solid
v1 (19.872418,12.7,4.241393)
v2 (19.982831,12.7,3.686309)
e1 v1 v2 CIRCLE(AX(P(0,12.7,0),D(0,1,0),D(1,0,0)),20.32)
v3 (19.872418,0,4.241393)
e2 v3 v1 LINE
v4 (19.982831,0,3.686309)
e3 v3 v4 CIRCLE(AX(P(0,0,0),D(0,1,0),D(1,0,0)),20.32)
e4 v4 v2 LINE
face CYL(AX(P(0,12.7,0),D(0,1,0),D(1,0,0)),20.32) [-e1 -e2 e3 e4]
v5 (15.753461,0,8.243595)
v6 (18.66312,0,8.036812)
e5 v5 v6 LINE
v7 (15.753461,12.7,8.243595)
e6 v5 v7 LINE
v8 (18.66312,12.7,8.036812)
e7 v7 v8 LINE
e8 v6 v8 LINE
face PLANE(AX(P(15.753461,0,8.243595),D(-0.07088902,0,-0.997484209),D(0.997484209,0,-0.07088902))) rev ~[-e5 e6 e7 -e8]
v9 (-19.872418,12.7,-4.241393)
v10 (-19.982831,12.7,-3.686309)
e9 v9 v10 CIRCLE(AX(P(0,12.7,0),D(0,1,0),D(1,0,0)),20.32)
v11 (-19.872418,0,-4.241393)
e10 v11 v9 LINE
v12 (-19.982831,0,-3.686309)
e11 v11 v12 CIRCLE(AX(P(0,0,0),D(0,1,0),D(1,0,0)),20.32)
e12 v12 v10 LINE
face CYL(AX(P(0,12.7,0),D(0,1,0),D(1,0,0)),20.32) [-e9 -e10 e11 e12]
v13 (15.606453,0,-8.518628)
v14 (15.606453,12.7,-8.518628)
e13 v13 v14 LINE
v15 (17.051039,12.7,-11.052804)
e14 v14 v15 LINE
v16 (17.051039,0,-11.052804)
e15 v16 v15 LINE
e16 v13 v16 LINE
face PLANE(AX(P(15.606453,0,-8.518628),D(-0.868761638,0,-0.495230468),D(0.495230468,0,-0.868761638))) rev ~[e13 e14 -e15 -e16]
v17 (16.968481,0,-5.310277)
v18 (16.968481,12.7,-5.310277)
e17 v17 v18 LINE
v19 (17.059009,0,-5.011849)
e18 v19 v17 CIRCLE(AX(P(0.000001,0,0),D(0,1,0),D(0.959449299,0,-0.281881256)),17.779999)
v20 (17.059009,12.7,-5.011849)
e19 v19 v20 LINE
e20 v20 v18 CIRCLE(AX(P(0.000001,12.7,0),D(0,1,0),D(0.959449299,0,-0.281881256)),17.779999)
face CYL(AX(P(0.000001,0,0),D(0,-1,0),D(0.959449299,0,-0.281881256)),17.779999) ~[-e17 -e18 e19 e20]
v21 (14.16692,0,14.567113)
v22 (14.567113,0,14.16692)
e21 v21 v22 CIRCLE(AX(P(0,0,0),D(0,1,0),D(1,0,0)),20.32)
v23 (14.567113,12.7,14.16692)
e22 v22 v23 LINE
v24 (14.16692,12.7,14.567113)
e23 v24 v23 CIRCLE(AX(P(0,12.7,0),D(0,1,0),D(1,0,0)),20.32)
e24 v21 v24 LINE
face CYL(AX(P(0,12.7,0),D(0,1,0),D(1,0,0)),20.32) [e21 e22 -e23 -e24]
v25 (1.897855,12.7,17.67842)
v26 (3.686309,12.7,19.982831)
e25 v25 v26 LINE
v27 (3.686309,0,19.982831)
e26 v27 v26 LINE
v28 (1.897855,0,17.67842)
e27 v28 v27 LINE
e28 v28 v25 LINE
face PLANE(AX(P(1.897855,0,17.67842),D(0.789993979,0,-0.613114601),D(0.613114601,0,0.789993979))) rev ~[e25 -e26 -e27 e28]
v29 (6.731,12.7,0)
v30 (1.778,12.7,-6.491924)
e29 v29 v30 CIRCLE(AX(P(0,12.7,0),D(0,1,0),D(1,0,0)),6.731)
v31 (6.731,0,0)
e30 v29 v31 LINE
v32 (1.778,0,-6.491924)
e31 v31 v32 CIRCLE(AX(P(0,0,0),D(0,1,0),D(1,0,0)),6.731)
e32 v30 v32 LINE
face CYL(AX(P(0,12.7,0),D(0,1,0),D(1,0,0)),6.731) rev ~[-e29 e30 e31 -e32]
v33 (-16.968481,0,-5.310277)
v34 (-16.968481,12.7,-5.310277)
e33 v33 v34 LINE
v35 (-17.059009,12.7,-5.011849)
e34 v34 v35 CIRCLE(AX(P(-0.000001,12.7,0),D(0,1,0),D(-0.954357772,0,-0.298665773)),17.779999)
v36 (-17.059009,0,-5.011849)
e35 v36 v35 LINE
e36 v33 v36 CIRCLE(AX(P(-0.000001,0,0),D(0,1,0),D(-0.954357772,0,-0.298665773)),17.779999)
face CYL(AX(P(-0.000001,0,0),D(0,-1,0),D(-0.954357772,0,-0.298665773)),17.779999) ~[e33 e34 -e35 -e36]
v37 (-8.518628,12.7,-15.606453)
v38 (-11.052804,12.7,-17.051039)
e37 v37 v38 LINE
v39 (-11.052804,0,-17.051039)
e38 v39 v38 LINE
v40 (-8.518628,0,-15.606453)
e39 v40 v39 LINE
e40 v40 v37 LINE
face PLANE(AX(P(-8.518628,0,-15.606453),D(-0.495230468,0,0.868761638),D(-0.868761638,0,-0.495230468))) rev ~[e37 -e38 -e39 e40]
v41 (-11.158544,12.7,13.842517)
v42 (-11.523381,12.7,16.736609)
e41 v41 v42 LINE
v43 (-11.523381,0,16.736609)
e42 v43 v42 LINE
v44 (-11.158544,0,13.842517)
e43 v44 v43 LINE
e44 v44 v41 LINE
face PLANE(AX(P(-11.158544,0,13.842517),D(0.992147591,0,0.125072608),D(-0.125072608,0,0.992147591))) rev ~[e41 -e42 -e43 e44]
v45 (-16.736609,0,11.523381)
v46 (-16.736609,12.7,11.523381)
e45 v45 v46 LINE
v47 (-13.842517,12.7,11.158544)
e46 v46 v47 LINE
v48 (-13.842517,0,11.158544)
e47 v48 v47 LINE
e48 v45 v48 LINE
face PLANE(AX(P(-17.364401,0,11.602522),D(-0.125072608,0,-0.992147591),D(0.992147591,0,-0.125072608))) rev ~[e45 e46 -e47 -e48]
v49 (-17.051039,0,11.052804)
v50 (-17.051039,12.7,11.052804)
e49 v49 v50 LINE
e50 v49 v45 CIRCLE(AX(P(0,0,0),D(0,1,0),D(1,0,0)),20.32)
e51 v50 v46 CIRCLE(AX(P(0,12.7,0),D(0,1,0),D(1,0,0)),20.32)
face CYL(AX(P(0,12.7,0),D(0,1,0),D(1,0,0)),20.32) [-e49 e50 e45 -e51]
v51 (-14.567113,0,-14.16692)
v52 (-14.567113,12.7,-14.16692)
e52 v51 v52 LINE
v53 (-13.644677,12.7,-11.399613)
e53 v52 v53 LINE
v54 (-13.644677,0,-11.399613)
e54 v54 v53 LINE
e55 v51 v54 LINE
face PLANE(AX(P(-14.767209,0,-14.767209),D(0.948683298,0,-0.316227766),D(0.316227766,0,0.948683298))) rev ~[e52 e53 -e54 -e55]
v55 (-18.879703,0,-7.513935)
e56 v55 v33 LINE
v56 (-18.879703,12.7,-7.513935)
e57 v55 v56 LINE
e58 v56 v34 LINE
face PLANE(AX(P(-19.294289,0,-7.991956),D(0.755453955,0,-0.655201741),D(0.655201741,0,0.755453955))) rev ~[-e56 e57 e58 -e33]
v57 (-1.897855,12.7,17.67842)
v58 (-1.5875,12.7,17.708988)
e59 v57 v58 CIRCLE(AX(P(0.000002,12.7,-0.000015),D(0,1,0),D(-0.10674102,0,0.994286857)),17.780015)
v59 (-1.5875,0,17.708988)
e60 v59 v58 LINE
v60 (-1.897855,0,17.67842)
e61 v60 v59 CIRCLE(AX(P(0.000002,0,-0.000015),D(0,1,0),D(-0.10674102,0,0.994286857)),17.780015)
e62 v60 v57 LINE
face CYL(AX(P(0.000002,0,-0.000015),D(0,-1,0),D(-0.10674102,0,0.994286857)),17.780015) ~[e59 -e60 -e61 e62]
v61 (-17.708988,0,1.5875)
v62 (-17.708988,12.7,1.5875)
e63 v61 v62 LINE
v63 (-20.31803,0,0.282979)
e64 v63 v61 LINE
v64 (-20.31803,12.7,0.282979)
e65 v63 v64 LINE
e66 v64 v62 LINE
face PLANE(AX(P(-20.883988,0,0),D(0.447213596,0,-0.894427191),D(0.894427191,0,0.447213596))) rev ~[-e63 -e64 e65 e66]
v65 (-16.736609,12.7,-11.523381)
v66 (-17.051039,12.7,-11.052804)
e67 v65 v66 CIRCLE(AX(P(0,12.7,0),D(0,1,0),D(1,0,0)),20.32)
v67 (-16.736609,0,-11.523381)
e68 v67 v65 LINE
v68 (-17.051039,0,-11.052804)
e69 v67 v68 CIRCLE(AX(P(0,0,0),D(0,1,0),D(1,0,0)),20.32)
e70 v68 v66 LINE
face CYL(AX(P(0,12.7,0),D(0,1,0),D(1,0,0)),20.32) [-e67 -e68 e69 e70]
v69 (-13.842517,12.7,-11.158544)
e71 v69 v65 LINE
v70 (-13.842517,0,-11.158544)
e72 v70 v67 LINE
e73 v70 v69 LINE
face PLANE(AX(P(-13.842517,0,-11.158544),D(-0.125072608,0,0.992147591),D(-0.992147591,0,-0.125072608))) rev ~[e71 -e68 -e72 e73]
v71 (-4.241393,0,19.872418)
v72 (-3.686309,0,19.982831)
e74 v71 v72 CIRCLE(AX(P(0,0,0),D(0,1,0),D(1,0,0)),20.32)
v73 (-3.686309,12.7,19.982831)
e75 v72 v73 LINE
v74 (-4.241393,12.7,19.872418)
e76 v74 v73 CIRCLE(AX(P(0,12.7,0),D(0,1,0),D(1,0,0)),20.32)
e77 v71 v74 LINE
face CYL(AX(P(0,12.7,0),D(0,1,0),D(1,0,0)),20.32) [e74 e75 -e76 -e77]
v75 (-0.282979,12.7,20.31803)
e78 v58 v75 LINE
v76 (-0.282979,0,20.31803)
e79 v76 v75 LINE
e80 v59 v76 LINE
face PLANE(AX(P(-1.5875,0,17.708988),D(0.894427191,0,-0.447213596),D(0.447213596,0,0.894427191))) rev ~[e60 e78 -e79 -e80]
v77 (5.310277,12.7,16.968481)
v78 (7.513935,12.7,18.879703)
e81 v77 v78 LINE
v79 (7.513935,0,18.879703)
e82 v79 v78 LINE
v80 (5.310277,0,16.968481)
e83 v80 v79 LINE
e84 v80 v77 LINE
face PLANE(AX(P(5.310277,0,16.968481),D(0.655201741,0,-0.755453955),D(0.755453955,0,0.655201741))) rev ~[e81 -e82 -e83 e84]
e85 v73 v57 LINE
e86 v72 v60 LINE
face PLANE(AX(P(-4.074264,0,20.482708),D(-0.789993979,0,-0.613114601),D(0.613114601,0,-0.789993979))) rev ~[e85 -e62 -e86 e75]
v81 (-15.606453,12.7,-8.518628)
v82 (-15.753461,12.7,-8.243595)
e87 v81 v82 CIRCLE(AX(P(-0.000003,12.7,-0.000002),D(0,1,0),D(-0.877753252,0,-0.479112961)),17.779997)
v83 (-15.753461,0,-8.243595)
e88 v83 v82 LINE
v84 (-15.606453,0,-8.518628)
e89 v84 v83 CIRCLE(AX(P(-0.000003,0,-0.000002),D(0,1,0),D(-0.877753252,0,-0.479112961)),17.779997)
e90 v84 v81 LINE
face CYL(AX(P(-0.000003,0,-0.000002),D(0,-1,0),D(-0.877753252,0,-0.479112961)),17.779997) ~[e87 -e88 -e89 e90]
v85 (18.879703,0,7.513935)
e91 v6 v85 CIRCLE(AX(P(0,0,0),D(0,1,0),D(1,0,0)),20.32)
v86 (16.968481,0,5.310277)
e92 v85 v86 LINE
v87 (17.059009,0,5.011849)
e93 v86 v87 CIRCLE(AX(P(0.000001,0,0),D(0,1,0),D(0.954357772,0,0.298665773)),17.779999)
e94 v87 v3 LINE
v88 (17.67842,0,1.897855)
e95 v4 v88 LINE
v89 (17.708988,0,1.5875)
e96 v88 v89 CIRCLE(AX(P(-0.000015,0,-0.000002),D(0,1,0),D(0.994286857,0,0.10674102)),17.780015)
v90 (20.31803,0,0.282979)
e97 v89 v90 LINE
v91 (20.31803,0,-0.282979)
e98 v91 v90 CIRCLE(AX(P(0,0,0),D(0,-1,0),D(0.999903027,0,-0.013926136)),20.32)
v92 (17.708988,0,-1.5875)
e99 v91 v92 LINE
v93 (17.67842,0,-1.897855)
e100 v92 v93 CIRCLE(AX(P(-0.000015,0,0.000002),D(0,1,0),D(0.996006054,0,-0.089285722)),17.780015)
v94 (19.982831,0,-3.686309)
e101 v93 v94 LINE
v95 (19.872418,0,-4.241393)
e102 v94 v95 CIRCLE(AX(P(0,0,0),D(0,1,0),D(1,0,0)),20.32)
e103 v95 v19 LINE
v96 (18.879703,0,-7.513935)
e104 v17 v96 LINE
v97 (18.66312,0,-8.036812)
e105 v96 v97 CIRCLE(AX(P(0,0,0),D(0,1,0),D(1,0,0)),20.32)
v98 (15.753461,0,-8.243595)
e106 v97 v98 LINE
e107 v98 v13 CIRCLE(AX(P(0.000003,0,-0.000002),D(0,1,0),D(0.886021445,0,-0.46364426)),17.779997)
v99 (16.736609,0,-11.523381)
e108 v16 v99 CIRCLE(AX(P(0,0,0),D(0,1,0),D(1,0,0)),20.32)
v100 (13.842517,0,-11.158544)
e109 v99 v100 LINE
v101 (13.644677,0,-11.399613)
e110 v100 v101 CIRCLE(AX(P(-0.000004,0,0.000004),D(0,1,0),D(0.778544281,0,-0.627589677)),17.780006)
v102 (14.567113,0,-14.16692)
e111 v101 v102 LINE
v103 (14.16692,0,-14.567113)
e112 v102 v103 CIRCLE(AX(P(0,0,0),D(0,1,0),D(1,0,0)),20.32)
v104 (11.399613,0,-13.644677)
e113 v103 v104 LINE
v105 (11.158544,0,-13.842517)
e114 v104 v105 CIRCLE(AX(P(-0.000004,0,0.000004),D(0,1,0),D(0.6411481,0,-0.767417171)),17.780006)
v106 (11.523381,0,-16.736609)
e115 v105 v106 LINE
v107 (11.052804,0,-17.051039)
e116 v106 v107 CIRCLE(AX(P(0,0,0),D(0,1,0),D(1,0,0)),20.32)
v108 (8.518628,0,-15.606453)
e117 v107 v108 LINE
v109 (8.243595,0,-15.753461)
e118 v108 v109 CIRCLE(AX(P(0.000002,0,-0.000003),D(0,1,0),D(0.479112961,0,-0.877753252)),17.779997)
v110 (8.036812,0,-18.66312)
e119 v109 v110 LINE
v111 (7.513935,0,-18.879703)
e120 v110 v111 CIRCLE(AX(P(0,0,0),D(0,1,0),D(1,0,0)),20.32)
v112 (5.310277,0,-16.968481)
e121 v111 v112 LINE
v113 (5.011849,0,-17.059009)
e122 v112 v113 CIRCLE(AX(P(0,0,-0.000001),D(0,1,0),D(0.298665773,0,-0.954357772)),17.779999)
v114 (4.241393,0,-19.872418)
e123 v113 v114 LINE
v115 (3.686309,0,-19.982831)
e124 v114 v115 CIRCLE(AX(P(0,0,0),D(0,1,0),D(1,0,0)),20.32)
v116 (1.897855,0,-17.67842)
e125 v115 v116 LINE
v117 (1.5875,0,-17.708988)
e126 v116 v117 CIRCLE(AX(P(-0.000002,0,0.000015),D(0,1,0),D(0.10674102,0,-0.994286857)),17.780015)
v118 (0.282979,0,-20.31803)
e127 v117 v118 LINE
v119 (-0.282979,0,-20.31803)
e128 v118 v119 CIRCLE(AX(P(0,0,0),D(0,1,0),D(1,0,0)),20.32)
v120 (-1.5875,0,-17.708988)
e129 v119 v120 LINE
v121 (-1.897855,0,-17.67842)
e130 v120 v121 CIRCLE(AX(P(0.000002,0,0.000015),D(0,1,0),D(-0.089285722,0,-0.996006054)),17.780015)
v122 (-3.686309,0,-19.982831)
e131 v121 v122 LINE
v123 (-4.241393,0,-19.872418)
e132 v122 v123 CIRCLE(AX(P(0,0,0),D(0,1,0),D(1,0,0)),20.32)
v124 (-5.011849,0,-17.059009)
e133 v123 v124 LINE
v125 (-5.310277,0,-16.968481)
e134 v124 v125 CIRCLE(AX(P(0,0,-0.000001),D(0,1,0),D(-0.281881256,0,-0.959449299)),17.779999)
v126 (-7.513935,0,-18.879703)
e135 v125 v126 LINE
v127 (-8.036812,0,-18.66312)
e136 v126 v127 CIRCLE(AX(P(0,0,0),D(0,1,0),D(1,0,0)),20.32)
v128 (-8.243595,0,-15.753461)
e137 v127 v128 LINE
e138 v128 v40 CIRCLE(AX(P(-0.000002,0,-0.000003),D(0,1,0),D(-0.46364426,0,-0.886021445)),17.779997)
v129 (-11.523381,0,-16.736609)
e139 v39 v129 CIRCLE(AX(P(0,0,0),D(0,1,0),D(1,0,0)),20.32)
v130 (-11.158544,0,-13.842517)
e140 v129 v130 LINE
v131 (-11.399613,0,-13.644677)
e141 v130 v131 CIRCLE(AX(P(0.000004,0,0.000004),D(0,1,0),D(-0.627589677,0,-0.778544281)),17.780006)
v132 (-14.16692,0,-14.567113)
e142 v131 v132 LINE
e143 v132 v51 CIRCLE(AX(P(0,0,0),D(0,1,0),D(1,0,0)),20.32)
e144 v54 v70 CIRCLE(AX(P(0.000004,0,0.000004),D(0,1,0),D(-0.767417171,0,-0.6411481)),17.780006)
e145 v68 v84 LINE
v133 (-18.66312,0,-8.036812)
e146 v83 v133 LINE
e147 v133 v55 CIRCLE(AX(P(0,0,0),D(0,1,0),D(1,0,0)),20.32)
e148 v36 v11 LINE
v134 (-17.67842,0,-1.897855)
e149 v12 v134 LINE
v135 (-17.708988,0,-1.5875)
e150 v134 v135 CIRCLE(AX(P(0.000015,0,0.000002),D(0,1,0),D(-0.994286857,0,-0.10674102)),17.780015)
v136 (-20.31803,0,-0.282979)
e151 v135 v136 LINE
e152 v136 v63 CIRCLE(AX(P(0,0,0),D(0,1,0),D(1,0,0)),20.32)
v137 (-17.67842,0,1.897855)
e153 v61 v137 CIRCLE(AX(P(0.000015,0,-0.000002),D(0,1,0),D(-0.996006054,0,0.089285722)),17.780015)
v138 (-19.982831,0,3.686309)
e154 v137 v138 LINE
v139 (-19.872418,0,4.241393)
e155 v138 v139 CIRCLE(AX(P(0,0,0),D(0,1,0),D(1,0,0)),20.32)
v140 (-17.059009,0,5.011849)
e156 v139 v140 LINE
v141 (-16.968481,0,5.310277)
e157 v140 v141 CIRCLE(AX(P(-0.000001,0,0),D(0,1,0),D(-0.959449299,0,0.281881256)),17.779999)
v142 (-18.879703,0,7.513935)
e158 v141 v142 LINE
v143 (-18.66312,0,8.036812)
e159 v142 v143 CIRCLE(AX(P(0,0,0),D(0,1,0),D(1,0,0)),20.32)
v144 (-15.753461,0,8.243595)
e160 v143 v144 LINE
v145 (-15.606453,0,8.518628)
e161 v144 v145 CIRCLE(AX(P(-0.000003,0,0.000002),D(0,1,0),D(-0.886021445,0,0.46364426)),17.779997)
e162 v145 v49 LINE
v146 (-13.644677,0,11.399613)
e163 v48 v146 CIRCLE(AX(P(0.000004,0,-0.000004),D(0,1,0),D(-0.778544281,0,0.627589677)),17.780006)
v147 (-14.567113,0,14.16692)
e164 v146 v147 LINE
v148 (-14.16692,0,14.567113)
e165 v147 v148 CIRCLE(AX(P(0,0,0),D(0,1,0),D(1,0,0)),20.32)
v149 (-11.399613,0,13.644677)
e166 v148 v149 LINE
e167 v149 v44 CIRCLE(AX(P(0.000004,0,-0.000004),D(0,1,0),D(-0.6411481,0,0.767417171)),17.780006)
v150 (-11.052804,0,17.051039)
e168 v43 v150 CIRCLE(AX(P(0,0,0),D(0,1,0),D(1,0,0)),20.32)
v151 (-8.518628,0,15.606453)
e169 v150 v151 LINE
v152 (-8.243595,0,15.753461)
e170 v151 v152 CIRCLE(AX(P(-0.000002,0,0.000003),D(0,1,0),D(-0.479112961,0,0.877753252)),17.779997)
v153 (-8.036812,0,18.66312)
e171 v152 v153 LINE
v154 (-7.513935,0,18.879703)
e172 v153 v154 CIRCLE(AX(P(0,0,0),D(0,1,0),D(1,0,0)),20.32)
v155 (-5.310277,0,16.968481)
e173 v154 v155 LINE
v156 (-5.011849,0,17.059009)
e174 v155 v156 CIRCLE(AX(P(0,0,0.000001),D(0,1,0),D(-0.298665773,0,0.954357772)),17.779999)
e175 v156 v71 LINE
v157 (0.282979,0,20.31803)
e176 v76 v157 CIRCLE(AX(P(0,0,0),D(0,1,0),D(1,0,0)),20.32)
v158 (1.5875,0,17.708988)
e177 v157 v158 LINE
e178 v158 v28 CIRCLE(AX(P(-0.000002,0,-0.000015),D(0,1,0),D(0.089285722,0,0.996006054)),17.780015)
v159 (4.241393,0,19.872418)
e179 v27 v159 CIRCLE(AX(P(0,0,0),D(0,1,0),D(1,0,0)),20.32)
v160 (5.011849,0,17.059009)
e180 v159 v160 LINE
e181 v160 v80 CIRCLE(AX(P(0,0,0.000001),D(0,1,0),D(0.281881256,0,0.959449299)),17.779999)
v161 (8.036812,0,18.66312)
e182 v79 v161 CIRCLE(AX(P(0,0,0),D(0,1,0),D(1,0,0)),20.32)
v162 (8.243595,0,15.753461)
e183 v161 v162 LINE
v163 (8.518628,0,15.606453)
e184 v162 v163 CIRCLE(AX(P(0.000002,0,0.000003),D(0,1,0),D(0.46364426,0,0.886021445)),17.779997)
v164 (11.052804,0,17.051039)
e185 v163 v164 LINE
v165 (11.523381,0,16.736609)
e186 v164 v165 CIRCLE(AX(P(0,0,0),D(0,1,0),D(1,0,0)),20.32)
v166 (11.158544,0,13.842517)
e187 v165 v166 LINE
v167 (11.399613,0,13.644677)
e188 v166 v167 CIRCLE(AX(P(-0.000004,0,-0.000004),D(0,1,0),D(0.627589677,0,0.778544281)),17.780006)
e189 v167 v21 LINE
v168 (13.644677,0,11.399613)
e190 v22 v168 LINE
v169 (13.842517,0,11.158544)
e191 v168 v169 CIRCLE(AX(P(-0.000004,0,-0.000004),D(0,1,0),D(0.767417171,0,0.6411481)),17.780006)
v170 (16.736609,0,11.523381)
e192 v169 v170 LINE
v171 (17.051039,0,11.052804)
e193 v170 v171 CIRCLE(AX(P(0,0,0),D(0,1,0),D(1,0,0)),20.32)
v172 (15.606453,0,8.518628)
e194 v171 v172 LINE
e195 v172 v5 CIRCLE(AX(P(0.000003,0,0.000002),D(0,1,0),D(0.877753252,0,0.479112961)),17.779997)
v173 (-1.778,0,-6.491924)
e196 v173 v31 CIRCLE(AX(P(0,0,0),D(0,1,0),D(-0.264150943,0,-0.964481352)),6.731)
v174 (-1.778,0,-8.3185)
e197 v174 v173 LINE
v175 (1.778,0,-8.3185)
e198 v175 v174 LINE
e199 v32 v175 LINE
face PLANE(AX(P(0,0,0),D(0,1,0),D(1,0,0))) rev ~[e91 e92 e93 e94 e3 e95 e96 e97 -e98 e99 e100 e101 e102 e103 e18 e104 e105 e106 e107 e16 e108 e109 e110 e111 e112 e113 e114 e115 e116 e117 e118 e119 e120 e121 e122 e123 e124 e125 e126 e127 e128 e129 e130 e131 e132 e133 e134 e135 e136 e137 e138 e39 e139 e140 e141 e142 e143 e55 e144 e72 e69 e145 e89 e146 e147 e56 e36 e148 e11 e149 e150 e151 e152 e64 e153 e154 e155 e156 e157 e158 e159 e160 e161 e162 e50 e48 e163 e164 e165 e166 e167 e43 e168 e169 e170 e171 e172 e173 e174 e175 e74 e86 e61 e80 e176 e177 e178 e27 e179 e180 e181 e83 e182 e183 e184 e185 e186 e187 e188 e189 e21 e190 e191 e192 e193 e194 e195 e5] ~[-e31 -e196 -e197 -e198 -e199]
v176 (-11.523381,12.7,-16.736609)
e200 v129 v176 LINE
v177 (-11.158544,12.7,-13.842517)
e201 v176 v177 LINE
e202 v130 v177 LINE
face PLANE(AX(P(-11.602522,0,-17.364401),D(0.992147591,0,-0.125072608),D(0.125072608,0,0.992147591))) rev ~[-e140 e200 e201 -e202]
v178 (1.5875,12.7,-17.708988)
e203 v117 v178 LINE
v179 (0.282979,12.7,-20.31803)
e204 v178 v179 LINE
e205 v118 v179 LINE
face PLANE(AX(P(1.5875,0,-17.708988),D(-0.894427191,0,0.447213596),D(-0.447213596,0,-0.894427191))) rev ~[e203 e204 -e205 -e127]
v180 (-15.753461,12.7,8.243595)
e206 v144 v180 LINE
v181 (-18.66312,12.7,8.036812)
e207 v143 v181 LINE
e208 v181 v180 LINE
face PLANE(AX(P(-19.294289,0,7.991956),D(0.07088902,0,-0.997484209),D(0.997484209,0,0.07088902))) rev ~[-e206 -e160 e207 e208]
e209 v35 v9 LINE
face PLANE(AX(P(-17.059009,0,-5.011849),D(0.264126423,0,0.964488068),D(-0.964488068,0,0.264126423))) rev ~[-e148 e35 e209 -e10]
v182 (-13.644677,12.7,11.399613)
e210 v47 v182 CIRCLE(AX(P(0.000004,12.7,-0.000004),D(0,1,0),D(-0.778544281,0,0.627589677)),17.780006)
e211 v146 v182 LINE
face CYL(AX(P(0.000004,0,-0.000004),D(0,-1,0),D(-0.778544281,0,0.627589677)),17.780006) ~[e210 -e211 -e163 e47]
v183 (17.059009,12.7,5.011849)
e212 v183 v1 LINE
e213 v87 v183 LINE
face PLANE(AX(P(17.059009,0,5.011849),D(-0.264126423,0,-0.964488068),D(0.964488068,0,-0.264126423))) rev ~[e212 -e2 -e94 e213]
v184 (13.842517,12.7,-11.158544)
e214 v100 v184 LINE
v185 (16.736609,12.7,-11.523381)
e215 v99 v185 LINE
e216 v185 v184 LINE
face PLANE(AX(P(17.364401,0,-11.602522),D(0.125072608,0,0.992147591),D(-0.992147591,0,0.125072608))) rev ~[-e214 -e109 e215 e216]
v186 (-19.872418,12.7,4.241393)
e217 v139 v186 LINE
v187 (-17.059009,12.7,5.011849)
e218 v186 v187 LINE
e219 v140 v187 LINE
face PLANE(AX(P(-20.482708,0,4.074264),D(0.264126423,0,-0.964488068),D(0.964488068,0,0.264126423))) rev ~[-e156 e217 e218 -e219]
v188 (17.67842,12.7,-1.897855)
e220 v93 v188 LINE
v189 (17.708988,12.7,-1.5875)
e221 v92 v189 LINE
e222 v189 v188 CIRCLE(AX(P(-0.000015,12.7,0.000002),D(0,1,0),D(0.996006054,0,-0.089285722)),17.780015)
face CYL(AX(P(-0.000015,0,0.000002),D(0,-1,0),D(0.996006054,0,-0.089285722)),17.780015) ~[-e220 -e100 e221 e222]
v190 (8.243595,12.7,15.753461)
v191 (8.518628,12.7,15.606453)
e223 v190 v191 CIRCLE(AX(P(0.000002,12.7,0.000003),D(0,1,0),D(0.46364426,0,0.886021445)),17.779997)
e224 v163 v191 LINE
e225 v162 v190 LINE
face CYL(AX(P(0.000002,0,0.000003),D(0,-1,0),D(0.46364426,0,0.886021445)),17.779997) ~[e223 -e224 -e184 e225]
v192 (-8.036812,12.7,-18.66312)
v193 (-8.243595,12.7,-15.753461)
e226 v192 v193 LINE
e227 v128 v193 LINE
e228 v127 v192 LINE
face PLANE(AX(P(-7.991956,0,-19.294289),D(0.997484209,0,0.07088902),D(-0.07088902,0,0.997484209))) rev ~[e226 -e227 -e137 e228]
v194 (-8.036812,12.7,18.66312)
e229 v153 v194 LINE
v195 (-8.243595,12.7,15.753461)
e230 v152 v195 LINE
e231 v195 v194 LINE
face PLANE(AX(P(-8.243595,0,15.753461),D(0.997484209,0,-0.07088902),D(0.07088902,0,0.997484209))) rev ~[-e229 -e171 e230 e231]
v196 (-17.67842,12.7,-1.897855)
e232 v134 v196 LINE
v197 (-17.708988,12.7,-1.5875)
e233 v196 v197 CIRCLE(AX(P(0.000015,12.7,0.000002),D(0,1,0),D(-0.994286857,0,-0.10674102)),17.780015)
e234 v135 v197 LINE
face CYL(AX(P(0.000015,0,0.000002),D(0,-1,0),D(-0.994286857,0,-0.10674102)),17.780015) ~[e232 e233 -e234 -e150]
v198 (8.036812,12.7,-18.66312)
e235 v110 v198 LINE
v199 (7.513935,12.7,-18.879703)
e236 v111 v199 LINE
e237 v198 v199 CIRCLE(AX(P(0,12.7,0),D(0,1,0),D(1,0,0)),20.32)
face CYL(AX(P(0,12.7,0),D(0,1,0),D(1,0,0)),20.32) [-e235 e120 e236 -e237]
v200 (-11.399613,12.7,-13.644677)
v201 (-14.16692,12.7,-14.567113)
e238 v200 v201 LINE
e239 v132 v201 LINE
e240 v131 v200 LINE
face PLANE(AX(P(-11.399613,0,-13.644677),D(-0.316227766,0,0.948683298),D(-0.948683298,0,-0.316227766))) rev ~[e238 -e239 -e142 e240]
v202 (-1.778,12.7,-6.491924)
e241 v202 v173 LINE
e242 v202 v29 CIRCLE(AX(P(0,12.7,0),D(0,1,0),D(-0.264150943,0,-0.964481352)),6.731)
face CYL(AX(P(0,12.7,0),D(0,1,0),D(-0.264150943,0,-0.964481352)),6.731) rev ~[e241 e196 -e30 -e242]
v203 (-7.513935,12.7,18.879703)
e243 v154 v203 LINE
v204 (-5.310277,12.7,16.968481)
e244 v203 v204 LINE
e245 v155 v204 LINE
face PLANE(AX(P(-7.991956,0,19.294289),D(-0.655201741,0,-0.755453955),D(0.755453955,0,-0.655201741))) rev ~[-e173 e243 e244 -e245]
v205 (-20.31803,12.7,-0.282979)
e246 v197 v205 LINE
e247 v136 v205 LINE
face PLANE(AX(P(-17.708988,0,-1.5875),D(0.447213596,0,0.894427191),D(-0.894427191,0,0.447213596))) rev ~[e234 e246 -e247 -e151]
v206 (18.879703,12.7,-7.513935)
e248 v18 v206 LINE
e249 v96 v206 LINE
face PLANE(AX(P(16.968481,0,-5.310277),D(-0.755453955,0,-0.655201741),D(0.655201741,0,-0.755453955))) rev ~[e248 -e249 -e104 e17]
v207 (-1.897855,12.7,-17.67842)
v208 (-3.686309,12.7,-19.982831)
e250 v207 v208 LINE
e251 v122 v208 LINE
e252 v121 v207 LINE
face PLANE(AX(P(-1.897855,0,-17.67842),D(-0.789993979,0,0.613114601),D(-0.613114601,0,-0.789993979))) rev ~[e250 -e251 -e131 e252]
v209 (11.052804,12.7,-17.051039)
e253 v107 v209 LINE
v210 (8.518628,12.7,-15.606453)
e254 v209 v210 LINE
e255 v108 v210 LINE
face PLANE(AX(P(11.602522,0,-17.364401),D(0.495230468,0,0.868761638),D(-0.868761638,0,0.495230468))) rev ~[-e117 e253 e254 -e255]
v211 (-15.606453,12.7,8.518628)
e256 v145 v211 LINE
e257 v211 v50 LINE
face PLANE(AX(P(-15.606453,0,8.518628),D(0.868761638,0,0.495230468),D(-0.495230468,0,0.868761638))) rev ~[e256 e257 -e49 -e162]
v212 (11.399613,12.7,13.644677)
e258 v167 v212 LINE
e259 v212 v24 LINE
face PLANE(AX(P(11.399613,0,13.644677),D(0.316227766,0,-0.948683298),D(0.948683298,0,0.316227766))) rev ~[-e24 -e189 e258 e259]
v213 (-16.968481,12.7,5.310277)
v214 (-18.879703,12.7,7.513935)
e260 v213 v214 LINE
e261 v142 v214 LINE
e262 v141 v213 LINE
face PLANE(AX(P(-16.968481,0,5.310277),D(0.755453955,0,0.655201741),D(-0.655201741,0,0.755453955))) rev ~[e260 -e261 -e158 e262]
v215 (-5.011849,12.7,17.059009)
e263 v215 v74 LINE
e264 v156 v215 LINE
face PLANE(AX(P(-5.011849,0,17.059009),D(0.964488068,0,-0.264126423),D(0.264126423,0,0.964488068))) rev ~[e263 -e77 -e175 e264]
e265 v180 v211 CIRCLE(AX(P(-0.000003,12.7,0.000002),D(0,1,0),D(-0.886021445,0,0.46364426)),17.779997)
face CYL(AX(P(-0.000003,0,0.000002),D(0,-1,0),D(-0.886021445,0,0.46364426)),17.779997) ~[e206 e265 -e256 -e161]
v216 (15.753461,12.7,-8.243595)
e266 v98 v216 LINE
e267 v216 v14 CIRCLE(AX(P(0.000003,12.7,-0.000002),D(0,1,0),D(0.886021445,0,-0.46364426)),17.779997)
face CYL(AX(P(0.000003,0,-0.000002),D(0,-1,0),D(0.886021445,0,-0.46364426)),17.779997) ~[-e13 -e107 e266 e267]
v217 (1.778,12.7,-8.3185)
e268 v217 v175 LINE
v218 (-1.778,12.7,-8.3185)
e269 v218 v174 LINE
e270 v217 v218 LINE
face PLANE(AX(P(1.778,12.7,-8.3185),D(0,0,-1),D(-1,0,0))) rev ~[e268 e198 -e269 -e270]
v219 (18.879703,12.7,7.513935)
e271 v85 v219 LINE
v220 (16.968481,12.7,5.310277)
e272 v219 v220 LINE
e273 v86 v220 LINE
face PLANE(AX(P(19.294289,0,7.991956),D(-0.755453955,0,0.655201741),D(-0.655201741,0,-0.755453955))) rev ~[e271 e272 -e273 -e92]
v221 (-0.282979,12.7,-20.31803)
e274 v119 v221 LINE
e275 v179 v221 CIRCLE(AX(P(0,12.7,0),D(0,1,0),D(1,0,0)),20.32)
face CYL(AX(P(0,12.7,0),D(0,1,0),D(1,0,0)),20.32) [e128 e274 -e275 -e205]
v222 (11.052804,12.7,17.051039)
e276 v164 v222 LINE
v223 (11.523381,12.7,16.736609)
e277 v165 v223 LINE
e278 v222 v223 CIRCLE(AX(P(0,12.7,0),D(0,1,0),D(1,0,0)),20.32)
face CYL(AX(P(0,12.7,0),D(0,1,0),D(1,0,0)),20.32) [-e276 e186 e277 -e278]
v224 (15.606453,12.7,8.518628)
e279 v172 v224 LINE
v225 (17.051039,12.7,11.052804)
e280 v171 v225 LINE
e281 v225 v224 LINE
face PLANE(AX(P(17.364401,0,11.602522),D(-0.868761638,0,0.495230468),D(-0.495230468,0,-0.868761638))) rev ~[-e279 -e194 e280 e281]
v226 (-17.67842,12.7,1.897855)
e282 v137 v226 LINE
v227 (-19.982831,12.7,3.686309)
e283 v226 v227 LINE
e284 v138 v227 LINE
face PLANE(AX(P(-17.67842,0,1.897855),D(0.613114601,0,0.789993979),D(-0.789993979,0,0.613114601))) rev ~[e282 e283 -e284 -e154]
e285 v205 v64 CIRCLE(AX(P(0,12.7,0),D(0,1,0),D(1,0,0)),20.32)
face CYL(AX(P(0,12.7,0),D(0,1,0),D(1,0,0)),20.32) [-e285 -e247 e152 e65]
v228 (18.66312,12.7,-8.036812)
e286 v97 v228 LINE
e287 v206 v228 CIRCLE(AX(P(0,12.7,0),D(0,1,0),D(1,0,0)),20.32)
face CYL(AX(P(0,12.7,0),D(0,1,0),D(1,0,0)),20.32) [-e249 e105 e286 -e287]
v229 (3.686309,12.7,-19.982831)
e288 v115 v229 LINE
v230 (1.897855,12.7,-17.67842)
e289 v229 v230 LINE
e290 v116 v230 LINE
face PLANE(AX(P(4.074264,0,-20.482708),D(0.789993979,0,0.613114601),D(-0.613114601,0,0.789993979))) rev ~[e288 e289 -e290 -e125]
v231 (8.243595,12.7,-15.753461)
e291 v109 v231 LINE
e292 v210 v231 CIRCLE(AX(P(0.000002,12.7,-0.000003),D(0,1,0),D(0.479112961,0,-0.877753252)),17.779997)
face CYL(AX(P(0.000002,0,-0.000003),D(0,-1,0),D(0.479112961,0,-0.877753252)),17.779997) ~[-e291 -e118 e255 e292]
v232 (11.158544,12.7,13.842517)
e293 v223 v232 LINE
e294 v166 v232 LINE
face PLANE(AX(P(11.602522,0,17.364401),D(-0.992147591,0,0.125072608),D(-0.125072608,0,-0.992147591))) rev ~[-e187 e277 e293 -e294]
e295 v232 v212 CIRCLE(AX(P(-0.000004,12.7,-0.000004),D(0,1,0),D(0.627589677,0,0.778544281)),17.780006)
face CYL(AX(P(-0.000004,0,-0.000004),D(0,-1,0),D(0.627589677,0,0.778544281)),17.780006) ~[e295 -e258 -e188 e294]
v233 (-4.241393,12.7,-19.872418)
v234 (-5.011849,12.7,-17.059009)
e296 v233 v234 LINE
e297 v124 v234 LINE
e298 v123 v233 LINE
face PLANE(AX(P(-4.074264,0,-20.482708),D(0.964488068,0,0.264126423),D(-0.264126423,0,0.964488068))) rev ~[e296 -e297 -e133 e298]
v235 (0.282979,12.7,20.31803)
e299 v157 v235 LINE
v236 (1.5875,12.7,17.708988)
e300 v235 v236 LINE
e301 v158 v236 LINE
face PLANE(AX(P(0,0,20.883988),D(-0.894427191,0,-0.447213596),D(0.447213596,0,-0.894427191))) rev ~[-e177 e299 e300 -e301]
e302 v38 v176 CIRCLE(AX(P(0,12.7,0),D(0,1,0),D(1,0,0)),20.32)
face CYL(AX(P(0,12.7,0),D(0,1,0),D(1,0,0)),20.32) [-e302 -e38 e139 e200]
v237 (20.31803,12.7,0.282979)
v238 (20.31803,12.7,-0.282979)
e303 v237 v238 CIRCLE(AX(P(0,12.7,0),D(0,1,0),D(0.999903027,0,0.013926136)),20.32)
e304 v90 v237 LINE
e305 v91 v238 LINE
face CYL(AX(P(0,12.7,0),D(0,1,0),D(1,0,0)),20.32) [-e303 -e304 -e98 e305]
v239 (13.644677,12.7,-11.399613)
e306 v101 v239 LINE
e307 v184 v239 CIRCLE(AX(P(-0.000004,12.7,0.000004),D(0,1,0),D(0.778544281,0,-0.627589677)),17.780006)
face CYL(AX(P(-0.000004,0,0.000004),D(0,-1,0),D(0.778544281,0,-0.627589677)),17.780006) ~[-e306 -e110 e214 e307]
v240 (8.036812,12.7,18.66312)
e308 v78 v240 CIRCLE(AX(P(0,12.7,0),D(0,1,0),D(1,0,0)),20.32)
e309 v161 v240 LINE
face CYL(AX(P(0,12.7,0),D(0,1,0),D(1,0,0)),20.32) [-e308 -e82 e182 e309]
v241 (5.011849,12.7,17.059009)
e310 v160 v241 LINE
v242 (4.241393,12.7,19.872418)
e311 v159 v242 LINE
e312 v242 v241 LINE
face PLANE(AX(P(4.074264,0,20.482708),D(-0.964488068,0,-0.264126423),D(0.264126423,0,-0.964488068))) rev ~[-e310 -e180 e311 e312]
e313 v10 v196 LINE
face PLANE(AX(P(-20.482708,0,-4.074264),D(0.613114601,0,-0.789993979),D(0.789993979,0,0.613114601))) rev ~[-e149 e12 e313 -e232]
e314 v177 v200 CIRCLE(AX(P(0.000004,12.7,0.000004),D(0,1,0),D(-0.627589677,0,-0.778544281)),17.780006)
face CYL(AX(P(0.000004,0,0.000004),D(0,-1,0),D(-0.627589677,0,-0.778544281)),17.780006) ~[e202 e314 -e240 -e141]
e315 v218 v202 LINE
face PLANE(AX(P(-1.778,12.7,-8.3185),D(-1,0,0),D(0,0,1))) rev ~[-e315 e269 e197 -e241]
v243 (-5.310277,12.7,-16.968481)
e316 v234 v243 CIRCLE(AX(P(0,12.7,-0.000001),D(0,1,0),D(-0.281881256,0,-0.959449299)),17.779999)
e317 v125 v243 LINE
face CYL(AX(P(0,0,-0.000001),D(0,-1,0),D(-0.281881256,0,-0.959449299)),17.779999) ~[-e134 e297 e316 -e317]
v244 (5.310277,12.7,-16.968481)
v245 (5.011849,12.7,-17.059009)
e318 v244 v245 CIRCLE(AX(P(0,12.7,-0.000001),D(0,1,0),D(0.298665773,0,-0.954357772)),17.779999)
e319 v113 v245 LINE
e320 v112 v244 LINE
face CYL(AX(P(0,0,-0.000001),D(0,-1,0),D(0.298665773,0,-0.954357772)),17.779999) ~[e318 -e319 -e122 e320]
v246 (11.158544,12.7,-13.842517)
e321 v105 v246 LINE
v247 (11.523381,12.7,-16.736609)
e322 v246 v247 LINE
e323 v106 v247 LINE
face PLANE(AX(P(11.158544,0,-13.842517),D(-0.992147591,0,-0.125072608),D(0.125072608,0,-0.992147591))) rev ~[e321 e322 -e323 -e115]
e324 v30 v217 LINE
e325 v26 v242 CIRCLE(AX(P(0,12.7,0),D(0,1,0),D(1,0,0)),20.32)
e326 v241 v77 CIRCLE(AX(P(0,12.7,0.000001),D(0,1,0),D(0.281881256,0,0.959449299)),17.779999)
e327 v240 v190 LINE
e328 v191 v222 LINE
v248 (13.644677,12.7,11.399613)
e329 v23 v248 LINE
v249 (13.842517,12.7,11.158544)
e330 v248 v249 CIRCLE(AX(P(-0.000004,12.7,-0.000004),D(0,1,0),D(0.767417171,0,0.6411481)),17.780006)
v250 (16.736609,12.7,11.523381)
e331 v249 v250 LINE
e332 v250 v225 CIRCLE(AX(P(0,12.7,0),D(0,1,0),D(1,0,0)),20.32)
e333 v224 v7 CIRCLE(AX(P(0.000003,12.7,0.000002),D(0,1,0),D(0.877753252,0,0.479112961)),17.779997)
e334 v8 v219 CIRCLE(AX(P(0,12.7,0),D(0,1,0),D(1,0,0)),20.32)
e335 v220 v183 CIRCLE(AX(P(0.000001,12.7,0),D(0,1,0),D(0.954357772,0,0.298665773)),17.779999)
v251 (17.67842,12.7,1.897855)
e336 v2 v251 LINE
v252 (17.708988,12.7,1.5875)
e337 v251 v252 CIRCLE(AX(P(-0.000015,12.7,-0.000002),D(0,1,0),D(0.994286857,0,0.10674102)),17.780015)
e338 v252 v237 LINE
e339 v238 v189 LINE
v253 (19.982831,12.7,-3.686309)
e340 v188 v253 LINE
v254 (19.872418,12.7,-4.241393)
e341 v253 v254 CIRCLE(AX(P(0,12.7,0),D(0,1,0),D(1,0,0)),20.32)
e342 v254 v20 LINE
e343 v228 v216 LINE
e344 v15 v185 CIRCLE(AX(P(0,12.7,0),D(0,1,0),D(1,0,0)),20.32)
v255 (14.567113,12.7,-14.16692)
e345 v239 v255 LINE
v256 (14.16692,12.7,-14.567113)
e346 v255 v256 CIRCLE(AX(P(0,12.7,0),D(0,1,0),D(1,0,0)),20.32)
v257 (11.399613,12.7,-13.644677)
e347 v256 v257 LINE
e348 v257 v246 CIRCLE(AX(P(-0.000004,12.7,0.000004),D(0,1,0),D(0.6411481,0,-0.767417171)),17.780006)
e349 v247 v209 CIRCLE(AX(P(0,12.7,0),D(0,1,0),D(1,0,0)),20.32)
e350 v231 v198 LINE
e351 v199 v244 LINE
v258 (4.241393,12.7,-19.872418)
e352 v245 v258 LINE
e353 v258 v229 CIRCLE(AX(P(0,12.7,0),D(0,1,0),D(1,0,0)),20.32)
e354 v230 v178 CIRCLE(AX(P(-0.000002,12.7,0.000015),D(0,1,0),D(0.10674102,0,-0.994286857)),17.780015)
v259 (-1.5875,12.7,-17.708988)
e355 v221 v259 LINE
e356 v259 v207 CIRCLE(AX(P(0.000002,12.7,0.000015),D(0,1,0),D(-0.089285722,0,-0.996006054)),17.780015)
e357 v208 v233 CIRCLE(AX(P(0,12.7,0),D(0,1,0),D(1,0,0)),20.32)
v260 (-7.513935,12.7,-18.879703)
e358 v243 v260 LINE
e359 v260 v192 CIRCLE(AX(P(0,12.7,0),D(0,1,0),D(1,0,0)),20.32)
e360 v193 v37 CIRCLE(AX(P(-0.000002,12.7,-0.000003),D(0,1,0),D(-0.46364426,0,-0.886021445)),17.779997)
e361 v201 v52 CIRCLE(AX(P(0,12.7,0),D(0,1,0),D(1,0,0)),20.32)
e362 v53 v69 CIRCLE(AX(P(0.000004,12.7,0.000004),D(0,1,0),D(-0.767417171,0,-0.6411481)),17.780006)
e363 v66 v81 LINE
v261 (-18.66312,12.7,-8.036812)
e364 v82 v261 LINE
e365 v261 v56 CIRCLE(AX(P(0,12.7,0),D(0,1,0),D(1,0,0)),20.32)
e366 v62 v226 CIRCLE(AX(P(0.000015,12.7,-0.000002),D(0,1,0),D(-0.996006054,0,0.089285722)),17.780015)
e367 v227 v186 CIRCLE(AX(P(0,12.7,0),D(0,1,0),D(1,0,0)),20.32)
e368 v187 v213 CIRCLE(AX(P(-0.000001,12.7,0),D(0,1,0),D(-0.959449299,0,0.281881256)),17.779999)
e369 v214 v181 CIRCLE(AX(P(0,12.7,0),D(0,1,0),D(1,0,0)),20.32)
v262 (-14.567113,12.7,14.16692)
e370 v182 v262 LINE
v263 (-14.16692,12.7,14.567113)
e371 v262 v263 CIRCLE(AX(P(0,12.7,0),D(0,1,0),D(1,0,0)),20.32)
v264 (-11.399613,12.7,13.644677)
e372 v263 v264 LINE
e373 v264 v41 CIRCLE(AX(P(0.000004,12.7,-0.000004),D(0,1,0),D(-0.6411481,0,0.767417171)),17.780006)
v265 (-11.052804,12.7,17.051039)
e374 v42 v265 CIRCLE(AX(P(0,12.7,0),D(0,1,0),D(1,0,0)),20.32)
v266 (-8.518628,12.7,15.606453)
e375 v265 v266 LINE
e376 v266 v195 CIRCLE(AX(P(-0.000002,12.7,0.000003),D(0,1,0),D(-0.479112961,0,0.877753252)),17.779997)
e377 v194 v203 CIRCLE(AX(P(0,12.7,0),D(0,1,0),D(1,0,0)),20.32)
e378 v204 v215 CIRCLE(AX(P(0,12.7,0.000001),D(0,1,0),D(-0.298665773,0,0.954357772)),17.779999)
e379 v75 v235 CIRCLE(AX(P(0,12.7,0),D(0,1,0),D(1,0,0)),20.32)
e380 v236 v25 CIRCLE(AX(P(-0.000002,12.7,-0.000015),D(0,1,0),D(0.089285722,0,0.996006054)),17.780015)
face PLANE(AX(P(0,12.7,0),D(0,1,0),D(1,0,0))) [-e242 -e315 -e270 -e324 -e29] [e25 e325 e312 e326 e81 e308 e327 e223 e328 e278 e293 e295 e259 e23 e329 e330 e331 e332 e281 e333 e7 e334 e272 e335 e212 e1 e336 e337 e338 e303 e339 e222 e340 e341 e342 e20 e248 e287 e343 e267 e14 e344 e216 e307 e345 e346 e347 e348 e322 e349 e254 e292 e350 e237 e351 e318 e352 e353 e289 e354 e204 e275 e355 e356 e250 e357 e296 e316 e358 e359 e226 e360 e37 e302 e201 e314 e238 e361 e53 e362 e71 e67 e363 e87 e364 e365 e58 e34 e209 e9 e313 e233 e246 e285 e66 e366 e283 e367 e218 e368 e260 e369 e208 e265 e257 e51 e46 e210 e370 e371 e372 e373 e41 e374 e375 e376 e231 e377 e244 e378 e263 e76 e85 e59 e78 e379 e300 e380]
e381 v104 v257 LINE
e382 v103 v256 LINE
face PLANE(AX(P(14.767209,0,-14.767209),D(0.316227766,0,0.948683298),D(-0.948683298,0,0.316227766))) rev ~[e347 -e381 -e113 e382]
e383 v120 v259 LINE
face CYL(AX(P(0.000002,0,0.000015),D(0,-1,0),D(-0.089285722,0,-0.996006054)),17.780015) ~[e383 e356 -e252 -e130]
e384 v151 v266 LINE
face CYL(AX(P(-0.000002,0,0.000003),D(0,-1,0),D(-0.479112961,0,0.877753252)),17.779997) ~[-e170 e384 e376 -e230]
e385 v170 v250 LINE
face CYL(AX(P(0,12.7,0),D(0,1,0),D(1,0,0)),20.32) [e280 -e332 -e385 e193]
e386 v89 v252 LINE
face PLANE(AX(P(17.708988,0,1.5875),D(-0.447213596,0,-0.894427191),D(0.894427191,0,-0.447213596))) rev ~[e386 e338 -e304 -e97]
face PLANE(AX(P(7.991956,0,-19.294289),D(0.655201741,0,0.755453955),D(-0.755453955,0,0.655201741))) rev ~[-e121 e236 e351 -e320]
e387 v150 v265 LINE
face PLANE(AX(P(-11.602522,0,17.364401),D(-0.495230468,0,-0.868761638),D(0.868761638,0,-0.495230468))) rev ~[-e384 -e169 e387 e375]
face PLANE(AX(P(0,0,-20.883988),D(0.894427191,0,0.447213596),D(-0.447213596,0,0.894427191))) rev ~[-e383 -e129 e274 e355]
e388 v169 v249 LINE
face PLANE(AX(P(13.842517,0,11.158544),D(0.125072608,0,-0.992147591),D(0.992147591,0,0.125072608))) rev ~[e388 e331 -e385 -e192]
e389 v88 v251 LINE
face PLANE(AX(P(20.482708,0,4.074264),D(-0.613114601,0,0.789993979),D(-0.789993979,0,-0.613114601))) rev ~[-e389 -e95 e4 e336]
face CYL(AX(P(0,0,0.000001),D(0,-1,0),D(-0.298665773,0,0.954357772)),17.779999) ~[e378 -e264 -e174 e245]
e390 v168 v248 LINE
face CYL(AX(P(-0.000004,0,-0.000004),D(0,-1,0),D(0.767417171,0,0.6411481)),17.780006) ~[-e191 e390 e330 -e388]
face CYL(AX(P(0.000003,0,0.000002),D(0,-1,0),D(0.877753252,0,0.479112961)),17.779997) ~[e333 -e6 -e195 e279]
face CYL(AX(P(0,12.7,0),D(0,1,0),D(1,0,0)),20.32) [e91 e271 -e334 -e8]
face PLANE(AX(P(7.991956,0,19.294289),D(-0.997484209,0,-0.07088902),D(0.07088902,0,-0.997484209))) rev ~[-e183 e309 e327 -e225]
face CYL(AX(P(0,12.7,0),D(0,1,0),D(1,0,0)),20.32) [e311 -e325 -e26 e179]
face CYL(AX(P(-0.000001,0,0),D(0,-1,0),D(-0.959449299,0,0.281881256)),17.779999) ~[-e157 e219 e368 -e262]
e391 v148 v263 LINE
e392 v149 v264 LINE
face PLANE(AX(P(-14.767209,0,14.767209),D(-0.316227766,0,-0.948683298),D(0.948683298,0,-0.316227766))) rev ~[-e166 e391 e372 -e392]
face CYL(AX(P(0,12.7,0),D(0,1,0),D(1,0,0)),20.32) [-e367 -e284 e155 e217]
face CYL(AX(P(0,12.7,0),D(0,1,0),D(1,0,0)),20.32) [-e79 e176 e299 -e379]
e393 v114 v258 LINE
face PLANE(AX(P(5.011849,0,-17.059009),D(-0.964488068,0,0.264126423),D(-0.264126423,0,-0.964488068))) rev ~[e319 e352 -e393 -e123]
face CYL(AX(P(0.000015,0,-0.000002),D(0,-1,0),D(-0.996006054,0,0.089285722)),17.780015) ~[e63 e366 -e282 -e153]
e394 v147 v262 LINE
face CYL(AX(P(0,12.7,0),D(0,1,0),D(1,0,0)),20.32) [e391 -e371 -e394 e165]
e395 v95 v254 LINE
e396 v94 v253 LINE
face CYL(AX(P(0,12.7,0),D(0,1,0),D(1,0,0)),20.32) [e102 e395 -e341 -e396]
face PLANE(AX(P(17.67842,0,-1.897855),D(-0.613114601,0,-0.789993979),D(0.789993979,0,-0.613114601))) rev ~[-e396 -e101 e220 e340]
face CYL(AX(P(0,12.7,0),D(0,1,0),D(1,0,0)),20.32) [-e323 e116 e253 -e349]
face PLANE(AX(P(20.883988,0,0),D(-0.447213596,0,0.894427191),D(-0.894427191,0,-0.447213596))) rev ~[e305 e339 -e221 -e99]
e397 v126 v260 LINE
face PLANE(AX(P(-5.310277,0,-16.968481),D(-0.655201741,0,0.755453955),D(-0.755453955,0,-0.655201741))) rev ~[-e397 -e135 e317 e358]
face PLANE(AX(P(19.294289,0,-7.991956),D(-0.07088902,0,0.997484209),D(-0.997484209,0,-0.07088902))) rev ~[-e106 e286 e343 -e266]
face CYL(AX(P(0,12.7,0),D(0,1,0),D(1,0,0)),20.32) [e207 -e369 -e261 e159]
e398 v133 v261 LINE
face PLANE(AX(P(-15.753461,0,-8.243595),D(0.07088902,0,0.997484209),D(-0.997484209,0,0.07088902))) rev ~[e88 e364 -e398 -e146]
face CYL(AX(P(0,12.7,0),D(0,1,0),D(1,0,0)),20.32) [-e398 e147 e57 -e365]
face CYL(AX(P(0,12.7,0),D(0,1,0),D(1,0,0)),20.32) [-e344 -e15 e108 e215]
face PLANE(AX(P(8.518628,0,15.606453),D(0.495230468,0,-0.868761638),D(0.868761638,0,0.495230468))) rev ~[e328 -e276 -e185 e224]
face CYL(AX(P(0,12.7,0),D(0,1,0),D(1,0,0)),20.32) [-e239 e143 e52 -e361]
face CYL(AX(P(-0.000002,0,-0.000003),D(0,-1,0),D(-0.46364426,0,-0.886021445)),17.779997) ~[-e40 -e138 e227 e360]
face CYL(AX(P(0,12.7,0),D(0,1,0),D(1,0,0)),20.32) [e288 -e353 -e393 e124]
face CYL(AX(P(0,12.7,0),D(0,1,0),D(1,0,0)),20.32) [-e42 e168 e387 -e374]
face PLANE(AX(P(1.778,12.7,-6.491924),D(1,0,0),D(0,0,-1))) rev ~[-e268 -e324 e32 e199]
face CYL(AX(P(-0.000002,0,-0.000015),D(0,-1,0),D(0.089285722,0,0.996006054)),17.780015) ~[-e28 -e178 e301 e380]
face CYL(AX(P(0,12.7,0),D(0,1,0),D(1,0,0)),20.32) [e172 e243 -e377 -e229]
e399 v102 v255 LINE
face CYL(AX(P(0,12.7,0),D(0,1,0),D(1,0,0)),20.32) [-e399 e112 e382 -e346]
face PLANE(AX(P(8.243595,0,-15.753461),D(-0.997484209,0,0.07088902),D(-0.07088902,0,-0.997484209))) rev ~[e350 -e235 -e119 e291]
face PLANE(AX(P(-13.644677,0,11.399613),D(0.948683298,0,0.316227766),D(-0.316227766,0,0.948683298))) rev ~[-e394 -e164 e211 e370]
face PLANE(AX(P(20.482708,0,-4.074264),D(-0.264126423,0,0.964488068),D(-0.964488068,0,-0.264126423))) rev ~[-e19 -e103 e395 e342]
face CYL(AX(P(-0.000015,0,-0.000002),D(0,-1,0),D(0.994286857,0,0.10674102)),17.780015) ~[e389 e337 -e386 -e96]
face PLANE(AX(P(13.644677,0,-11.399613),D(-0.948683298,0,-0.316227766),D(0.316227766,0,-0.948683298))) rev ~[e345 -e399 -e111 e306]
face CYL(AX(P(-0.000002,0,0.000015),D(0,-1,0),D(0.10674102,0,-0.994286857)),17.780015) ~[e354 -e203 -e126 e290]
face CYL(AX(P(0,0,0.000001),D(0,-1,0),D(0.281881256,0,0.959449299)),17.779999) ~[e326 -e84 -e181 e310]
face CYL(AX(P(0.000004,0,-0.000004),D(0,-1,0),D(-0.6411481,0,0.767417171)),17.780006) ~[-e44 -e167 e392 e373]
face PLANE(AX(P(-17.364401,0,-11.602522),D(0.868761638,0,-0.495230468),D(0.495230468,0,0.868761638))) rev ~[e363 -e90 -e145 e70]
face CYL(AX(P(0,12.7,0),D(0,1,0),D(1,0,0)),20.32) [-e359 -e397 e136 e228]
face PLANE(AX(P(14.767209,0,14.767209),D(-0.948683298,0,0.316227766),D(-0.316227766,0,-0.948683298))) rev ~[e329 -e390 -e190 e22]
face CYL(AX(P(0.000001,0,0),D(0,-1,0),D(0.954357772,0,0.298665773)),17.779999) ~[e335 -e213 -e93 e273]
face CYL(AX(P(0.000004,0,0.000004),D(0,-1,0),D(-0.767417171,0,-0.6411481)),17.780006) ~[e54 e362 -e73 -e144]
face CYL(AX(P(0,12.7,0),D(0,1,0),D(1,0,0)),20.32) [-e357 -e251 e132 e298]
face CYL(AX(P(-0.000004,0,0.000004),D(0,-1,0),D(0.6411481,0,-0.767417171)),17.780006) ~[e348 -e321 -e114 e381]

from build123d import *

# Parameters (mm, degrees)
BOSS_EXTRUDE1_DEPTH = 12.7
SKETCH2_OUTSIDE_W   = 55.852
SKETCH2_OUTSIDE_H   = 55.852
SKETCH2_OUTSIDE_R   = 20.32
CUT_EXTRUDE1_DEPTH  = 33.149212754
CUT_EXTRUDE3_DEPTH  = 32.418064867


with BuildPart() as part:
    # Sketch1 → Boss-Extrude1 (new body)
    with BuildSketch(Plane(origin=(0, 0, 0), x_dir=(1, 0, 0), z_dir=(0, 1, 0))):
        with BuildLine():
            Line((0, 20.883987655), (-1.5875, 17.708987655))
            ThreePointArc((-1.5875, 17.708987655), (-1.742744755, 17.69438444), (-1.897855471, 17.678420309))
            Line((-1.897855471, 17.678420309), (-4.074263877, 20.482707688))
            Line((-4.074263877, 20.482707688), (-5.011848737, 17.059008536))
            ThreePointArc((-5.011848737, 17.059008536), (-5.161261562, 17.014399169), (-5.310277422, 16.968481184))
            Line((-5.310277422, 16.968481184), (-7.991956077, 19.294288751))
            Line((-7.991956077, 19.294288751), (-8.243594937, 15.753461287))
            ThreePointArc((-8.243594937, 15.753461287), (-8.381433981, 15.68056008), (-8.518628388, 15.606452844))
            Line((-8.518628388, 15.606452844), (-11.602521888, 17.364401118))
            Line((-11.602521888, 17.364401118), (-11.158544407, 13.842517355))
            ThreePointArc((-11.158544407, 13.842517355), (-11.279512592, 13.744125861), (-11.399613243, 13.644677274))
            Line((-11.399613243, 13.644677274), (-14.767209289, 14.767209289))
            Line((-14.767209289, 14.767209289), (-13.644677274, 11.399613243))
            ThreePointArc((-13.644677274, 11.399613243), (-13.744125861, 11.279512592), (-13.842517355, 11.158544407))
            Line((-13.842517355, 11.158544407), (-17.364401118, 11.602521888))
            Line((-17.364401118, 11.602521888), (-15.606452844, 8.518628388))
            ThreePointArc((-15.606452844, 8.518628388), (-15.68056008, 8.381433981), (-15.753461287, 8.243594937))
            Line((-15.753461287, 8.243594937), (-19.294288751, 7.991956077))
            Line((-19.294288751, 7.991956077), (-16.968481184, 5.310277422))
            ThreePointArc((-16.968481184, 5.310277422), (-17.014399169, 5.161261562), (-17.059008536, 5.011848737))
            Line((-17.059008536, 5.011848737), (-20.482707688, 4.074263877))
            Line((-20.482707688, 4.074263877), (-17.678420309, 1.897855471))
            ThreePointArc((-17.678420309, 1.897855471), (-17.69438444, 1.742744755), (-17.708987655, 1.5875))
            Line((-17.708987655, 1.5875), (-20.883987655, 0))
            Line((-20.883987655, 0), (-17.708987655, -1.5875))
            ThreePointArc((-17.708987655, -1.5875), (-17.69438444, -1.742744755), (-17.678420309, -1.897855471))
            Line((-17.678420309, -1.897855471), (-20.482707688, -4.074263877))
            Line((-20.482707688, -4.074263877), (-17.059008536, -5.011848737))
            ThreePointArc((-17.059008536, -5.011848737), (-17.014399169, -5.161261562), (-16.968481184, -5.310277422))
            Line((-16.968481184, -5.310277422), (-19.294288751, -7.991956077))
            Line((-19.294288751, -7.991956077), (-15.753461287, -8.243594937))
            ThreePointArc((-15.753461287, -8.243594937), (-15.68056008, -8.381433981), (-15.606452844, -8.518628388))
            Line((-15.606452844, -8.518628388), (-17.364401118, -11.602521888))
            Line((-17.364401118, -11.602521888), (-13.842517355, -11.158544407))
            ThreePointArc((-13.842517355, -11.158544407), (-13.744125861, -11.279512592), (-13.644677274, -11.399613243))
            Line((-13.644677274, -11.399613243), (-14.767209289, -14.767209289))
            Line((-14.767209289, -14.767209289), (-11.399613243, -13.644677274))
            ThreePointArc((-11.399613243, -13.644677274), (-11.279512592, -13.744125861), (-11.158544407, -13.842517355))
            Line((-11.158544407, -13.842517355), (-11.602521888, -17.364401118))
            Line((-11.602521888, -17.364401118), (-8.518628388, -15.606452844))
            ThreePointArc((-8.518628388, -15.606452844), (-8.381433981, -15.68056008), (-8.243594937, -15.753461287))
            Line((-8.243594937, -15.753461287), (-7.991956077, -19.294288751))
            Line((-7.991956077, -19.294288751), (-5.310277422, -16.968481184))
            ThreePointArc((-5.310277422, -16.968481184), (-5.161261562, -17.014399169), (-5.011848737, -17.059008536))
            Line((-5.011848737, -17.059008536), (-4.074263877, -20.482707688))
            Line((-4.074263877, -20.482707688), (-1.897855471, -17.678420309))
            ThreePointArc((-1.897855471, -17.678420309), (-1.742744755, -17.69438444), (-1.5875, -17.708987655))
            Line((-1.5875, -17.708987655), (0, -20.883987655))
            Line((0, -20.883987655), (1.5875, -17.708987655))
            ThreePointArc((1.5875, -17.708987655), (1.742744755, -17.69438444), (1.897855471, -17.678420309))
            Line((1.897855471, -17.678420309), (4.074263877, -20.482707688))
            Line((4.074263877, -20.482707688), (5.011848737, -17.059008536))
            ThreePointArc((5.011848737, -17.059008536), (5.161261562, -17.014399169), (5.310277422, -16.968481184))
            Line((5.310277422, -16.968481184), (7.991956077, -19.294288751))
            Line((7.991956077, -19.294288751), (8.243594937, -15.753461287))
            ThreePointArc((8.243594937, -15.753461287), (8.381433981, -15.68056008), (8.518628388, -15.606452844))
            Line((8.518628388, -15.606452844), (11.602521888, -17.364401118))
            Line((11.602521888, -17.364401118), (11.158544407, -13.842517355))
            ThreePointArc((11.158544407, -13.842517355), (11.279512592, -13.744125861), (11.399613243, -13.644677274))
            Line((11.399613243, -13.644677274), (14.767209289, -14.767209289))
            Line((14.767209289, -14.767209289), (13.644677274, -11.399613243))
            ThreePointArc((13.644677274, -11.399613243), (13.744125861, -11.279512592), (13.842517355, -11.158544407))
            Line((13.842517355, -11.158544407), (17.364401118, -11.602521888))
            Line((17.364401118, -11.602521888), (15.606452844, -8.518628388))
            ThreePointArc((15.606452844, -8.518628388), (15.68056008, -8.381433981), (15.753461287, -8.243594937))
            Line((15.753461287, -8.243594937), (19.294288751, -7.991956077))
            Line((19.294288751, -7.991956077), (16.968481184, -5.310277422))
            ThreePointArc((16.968481184, -5.310277422), (17.014399169, -5.161261562), (17.059008536, -5.011848737))
            Line((17.059008536, -5.011848737), (20.482707688, -4.074263877))
            Line((20.482707688, -4.074263877), (17.678420309, -1.897855471))
            ThreePointArc((17.678420309, -1.897855471), (17.69438444, -1.742744755), (17.708987655, -1.5875))
            Line((17.708987655, -1.5875), (20.883987655, 0))
            Line((20.883987655, 0), (17.708987655, 1.5875))
            ThreePointArc((17.708987655, 1.5875), (17.69438444, 1.742744755), (17.678420309, 1.897855471))
            Line((17.678420309, 1.897855471), (20.482707688, 4.074263877))
            Line((20.482707688, 4.074263877), (17.059008536, 5.011848737))
            ThreePointArc((17.059008536, 5.011848737), (17.014399169, 5.161261562), (16.968481184, 5.310277422))
            Line((16.968481184, 5.310277422), (19.294288751, 7.991956077))
            Line((19.294288751, 7.991956077), (15.753461287, 8.243594937))
            ThreePointArc((15.753461287, 8.243594937), (15.68056008, 8.381433981), (15.606452844, 8.518628388))
            Line((15.606452844, 8.518628388), (17.364401118, 11.602521888))
            Line((17.364401118, 11.602521888), (13.842517355, 11.158544407))
            ThreePointArc((13.842517355, 11.158544407), (13.744125861, 11.279512592), (13.644677274, 11.399613243))
            Line((13.644677274, 11.399613243), (14.767209289, 14.767209289))
            Line((14.767209289, 14.767209289), (11.399613243, 13.644677274))
            ThreePointArc((11.399613243, 13.644677274), (11.279512592, 13.744125861), (11.158544407, 13.842517355))
            Line((11.158544407, 13.842517355), (11.602521888, 17.364401118))
            Line((11.602521888, 17.364401118), (8.518628388, 15.606452844))
            ThreePointArc((8.518628388, 15.606452844), (8.381433981, 15.68056008), (8.243594937, 15.753461287))
            Line((8.243594937, 15.753461287), (7.991956077, 19.294288751))
            Line((7.991956077, 19.294288751), (5.310277422, 16.968481184))
            ThreePointArc((5.310277422, 16.968481184), (5.161261562, 17.014399169), (5.011848737, 17.059008536))
            Line((5.011848737, 17.059008536), (4.074263877, 20.482707688))
            Line((4.074263877, 20.482707688), (1.897855471, 17.678420309))
            ThreePointArc((1.897855471, 17.678420309), (1.742744755, 17.69438444), (1.5875, 17.708987655))
            Line((1.5875, 17.708987655), (0, 20.883987655))
        make_face()
    extrude(amount=BOSS_EXTRUDE1_DEPTH)

    # Sketch2 outside → Cut-Extrude1 (cut, through all)
    with BuildSketch(Plane(origin=(0, 12.7, 0), x_dir=(1, 0, 0), z_dir=(0, 1, 0))):
        Rectangle(SKETCH2_OUTSIDE_W, SKETCH2_OUTSIDE_H)
        Circle(SKETCH2_OUTSIDE_R, mode=Mode.SUBTRACT)
    extrude(amount=-CUT_EXTRUDE1_DEPTH, mode=Mode.SUBTRACT)

    # Sketch3 → Cut-Extrude3 (cut, through all)
    with BuildSketch(Plane(origin=(0, 12.7, 0), x_dir=(1, 0, 0), z_dir=(0, 1, 0))):
        with BuildLine():
            ThreePointArc((1.778, 6.491923983), (0, 6.731), (-1.778, 6.491923983))
            Line((-1.778, 6.491923983), (-1.778, 5.1435))
            Line((-1.778, 5.1435), (1.778, 5.1435))
            Line((1.778, 5.1435), (1.778, 6.491923983))
        make_face()
        with BuildLine():
            Line((-1.778, 5.1435), (-1.778, 6.491923983))
            ThreePointArc((-1.778, 6.491923983), (-4.082808041, -5.351358659), (6.731, 0))
            ThreePointArc((6.731, 0), (5.351358659, 4.082808041), (1.778, 6.491923983))
            Line((1.778, 6.491923983), (1.778, 5.1435))
            Line((1.778, 5.1435), (-1.778, 5.1435))
        make_face()
        with BuildLine():
            Line((1.778, 8.3185), (-1.778, 8.3185))
            Line((-1.778, 8.3185), (-1.778, 6.491923983))
            ThreePointArc((-1.778, 6.491923983), (0, 6.731), (1.778, 6.491923983))
            Line((1.778, 6.491923983), (1.778, 8.3185))
        make_face()
    extrude(amount=-CUT_EXTRUDE3_DEPTH, mode=Mode.SUBTRACT)


solid = part.part
